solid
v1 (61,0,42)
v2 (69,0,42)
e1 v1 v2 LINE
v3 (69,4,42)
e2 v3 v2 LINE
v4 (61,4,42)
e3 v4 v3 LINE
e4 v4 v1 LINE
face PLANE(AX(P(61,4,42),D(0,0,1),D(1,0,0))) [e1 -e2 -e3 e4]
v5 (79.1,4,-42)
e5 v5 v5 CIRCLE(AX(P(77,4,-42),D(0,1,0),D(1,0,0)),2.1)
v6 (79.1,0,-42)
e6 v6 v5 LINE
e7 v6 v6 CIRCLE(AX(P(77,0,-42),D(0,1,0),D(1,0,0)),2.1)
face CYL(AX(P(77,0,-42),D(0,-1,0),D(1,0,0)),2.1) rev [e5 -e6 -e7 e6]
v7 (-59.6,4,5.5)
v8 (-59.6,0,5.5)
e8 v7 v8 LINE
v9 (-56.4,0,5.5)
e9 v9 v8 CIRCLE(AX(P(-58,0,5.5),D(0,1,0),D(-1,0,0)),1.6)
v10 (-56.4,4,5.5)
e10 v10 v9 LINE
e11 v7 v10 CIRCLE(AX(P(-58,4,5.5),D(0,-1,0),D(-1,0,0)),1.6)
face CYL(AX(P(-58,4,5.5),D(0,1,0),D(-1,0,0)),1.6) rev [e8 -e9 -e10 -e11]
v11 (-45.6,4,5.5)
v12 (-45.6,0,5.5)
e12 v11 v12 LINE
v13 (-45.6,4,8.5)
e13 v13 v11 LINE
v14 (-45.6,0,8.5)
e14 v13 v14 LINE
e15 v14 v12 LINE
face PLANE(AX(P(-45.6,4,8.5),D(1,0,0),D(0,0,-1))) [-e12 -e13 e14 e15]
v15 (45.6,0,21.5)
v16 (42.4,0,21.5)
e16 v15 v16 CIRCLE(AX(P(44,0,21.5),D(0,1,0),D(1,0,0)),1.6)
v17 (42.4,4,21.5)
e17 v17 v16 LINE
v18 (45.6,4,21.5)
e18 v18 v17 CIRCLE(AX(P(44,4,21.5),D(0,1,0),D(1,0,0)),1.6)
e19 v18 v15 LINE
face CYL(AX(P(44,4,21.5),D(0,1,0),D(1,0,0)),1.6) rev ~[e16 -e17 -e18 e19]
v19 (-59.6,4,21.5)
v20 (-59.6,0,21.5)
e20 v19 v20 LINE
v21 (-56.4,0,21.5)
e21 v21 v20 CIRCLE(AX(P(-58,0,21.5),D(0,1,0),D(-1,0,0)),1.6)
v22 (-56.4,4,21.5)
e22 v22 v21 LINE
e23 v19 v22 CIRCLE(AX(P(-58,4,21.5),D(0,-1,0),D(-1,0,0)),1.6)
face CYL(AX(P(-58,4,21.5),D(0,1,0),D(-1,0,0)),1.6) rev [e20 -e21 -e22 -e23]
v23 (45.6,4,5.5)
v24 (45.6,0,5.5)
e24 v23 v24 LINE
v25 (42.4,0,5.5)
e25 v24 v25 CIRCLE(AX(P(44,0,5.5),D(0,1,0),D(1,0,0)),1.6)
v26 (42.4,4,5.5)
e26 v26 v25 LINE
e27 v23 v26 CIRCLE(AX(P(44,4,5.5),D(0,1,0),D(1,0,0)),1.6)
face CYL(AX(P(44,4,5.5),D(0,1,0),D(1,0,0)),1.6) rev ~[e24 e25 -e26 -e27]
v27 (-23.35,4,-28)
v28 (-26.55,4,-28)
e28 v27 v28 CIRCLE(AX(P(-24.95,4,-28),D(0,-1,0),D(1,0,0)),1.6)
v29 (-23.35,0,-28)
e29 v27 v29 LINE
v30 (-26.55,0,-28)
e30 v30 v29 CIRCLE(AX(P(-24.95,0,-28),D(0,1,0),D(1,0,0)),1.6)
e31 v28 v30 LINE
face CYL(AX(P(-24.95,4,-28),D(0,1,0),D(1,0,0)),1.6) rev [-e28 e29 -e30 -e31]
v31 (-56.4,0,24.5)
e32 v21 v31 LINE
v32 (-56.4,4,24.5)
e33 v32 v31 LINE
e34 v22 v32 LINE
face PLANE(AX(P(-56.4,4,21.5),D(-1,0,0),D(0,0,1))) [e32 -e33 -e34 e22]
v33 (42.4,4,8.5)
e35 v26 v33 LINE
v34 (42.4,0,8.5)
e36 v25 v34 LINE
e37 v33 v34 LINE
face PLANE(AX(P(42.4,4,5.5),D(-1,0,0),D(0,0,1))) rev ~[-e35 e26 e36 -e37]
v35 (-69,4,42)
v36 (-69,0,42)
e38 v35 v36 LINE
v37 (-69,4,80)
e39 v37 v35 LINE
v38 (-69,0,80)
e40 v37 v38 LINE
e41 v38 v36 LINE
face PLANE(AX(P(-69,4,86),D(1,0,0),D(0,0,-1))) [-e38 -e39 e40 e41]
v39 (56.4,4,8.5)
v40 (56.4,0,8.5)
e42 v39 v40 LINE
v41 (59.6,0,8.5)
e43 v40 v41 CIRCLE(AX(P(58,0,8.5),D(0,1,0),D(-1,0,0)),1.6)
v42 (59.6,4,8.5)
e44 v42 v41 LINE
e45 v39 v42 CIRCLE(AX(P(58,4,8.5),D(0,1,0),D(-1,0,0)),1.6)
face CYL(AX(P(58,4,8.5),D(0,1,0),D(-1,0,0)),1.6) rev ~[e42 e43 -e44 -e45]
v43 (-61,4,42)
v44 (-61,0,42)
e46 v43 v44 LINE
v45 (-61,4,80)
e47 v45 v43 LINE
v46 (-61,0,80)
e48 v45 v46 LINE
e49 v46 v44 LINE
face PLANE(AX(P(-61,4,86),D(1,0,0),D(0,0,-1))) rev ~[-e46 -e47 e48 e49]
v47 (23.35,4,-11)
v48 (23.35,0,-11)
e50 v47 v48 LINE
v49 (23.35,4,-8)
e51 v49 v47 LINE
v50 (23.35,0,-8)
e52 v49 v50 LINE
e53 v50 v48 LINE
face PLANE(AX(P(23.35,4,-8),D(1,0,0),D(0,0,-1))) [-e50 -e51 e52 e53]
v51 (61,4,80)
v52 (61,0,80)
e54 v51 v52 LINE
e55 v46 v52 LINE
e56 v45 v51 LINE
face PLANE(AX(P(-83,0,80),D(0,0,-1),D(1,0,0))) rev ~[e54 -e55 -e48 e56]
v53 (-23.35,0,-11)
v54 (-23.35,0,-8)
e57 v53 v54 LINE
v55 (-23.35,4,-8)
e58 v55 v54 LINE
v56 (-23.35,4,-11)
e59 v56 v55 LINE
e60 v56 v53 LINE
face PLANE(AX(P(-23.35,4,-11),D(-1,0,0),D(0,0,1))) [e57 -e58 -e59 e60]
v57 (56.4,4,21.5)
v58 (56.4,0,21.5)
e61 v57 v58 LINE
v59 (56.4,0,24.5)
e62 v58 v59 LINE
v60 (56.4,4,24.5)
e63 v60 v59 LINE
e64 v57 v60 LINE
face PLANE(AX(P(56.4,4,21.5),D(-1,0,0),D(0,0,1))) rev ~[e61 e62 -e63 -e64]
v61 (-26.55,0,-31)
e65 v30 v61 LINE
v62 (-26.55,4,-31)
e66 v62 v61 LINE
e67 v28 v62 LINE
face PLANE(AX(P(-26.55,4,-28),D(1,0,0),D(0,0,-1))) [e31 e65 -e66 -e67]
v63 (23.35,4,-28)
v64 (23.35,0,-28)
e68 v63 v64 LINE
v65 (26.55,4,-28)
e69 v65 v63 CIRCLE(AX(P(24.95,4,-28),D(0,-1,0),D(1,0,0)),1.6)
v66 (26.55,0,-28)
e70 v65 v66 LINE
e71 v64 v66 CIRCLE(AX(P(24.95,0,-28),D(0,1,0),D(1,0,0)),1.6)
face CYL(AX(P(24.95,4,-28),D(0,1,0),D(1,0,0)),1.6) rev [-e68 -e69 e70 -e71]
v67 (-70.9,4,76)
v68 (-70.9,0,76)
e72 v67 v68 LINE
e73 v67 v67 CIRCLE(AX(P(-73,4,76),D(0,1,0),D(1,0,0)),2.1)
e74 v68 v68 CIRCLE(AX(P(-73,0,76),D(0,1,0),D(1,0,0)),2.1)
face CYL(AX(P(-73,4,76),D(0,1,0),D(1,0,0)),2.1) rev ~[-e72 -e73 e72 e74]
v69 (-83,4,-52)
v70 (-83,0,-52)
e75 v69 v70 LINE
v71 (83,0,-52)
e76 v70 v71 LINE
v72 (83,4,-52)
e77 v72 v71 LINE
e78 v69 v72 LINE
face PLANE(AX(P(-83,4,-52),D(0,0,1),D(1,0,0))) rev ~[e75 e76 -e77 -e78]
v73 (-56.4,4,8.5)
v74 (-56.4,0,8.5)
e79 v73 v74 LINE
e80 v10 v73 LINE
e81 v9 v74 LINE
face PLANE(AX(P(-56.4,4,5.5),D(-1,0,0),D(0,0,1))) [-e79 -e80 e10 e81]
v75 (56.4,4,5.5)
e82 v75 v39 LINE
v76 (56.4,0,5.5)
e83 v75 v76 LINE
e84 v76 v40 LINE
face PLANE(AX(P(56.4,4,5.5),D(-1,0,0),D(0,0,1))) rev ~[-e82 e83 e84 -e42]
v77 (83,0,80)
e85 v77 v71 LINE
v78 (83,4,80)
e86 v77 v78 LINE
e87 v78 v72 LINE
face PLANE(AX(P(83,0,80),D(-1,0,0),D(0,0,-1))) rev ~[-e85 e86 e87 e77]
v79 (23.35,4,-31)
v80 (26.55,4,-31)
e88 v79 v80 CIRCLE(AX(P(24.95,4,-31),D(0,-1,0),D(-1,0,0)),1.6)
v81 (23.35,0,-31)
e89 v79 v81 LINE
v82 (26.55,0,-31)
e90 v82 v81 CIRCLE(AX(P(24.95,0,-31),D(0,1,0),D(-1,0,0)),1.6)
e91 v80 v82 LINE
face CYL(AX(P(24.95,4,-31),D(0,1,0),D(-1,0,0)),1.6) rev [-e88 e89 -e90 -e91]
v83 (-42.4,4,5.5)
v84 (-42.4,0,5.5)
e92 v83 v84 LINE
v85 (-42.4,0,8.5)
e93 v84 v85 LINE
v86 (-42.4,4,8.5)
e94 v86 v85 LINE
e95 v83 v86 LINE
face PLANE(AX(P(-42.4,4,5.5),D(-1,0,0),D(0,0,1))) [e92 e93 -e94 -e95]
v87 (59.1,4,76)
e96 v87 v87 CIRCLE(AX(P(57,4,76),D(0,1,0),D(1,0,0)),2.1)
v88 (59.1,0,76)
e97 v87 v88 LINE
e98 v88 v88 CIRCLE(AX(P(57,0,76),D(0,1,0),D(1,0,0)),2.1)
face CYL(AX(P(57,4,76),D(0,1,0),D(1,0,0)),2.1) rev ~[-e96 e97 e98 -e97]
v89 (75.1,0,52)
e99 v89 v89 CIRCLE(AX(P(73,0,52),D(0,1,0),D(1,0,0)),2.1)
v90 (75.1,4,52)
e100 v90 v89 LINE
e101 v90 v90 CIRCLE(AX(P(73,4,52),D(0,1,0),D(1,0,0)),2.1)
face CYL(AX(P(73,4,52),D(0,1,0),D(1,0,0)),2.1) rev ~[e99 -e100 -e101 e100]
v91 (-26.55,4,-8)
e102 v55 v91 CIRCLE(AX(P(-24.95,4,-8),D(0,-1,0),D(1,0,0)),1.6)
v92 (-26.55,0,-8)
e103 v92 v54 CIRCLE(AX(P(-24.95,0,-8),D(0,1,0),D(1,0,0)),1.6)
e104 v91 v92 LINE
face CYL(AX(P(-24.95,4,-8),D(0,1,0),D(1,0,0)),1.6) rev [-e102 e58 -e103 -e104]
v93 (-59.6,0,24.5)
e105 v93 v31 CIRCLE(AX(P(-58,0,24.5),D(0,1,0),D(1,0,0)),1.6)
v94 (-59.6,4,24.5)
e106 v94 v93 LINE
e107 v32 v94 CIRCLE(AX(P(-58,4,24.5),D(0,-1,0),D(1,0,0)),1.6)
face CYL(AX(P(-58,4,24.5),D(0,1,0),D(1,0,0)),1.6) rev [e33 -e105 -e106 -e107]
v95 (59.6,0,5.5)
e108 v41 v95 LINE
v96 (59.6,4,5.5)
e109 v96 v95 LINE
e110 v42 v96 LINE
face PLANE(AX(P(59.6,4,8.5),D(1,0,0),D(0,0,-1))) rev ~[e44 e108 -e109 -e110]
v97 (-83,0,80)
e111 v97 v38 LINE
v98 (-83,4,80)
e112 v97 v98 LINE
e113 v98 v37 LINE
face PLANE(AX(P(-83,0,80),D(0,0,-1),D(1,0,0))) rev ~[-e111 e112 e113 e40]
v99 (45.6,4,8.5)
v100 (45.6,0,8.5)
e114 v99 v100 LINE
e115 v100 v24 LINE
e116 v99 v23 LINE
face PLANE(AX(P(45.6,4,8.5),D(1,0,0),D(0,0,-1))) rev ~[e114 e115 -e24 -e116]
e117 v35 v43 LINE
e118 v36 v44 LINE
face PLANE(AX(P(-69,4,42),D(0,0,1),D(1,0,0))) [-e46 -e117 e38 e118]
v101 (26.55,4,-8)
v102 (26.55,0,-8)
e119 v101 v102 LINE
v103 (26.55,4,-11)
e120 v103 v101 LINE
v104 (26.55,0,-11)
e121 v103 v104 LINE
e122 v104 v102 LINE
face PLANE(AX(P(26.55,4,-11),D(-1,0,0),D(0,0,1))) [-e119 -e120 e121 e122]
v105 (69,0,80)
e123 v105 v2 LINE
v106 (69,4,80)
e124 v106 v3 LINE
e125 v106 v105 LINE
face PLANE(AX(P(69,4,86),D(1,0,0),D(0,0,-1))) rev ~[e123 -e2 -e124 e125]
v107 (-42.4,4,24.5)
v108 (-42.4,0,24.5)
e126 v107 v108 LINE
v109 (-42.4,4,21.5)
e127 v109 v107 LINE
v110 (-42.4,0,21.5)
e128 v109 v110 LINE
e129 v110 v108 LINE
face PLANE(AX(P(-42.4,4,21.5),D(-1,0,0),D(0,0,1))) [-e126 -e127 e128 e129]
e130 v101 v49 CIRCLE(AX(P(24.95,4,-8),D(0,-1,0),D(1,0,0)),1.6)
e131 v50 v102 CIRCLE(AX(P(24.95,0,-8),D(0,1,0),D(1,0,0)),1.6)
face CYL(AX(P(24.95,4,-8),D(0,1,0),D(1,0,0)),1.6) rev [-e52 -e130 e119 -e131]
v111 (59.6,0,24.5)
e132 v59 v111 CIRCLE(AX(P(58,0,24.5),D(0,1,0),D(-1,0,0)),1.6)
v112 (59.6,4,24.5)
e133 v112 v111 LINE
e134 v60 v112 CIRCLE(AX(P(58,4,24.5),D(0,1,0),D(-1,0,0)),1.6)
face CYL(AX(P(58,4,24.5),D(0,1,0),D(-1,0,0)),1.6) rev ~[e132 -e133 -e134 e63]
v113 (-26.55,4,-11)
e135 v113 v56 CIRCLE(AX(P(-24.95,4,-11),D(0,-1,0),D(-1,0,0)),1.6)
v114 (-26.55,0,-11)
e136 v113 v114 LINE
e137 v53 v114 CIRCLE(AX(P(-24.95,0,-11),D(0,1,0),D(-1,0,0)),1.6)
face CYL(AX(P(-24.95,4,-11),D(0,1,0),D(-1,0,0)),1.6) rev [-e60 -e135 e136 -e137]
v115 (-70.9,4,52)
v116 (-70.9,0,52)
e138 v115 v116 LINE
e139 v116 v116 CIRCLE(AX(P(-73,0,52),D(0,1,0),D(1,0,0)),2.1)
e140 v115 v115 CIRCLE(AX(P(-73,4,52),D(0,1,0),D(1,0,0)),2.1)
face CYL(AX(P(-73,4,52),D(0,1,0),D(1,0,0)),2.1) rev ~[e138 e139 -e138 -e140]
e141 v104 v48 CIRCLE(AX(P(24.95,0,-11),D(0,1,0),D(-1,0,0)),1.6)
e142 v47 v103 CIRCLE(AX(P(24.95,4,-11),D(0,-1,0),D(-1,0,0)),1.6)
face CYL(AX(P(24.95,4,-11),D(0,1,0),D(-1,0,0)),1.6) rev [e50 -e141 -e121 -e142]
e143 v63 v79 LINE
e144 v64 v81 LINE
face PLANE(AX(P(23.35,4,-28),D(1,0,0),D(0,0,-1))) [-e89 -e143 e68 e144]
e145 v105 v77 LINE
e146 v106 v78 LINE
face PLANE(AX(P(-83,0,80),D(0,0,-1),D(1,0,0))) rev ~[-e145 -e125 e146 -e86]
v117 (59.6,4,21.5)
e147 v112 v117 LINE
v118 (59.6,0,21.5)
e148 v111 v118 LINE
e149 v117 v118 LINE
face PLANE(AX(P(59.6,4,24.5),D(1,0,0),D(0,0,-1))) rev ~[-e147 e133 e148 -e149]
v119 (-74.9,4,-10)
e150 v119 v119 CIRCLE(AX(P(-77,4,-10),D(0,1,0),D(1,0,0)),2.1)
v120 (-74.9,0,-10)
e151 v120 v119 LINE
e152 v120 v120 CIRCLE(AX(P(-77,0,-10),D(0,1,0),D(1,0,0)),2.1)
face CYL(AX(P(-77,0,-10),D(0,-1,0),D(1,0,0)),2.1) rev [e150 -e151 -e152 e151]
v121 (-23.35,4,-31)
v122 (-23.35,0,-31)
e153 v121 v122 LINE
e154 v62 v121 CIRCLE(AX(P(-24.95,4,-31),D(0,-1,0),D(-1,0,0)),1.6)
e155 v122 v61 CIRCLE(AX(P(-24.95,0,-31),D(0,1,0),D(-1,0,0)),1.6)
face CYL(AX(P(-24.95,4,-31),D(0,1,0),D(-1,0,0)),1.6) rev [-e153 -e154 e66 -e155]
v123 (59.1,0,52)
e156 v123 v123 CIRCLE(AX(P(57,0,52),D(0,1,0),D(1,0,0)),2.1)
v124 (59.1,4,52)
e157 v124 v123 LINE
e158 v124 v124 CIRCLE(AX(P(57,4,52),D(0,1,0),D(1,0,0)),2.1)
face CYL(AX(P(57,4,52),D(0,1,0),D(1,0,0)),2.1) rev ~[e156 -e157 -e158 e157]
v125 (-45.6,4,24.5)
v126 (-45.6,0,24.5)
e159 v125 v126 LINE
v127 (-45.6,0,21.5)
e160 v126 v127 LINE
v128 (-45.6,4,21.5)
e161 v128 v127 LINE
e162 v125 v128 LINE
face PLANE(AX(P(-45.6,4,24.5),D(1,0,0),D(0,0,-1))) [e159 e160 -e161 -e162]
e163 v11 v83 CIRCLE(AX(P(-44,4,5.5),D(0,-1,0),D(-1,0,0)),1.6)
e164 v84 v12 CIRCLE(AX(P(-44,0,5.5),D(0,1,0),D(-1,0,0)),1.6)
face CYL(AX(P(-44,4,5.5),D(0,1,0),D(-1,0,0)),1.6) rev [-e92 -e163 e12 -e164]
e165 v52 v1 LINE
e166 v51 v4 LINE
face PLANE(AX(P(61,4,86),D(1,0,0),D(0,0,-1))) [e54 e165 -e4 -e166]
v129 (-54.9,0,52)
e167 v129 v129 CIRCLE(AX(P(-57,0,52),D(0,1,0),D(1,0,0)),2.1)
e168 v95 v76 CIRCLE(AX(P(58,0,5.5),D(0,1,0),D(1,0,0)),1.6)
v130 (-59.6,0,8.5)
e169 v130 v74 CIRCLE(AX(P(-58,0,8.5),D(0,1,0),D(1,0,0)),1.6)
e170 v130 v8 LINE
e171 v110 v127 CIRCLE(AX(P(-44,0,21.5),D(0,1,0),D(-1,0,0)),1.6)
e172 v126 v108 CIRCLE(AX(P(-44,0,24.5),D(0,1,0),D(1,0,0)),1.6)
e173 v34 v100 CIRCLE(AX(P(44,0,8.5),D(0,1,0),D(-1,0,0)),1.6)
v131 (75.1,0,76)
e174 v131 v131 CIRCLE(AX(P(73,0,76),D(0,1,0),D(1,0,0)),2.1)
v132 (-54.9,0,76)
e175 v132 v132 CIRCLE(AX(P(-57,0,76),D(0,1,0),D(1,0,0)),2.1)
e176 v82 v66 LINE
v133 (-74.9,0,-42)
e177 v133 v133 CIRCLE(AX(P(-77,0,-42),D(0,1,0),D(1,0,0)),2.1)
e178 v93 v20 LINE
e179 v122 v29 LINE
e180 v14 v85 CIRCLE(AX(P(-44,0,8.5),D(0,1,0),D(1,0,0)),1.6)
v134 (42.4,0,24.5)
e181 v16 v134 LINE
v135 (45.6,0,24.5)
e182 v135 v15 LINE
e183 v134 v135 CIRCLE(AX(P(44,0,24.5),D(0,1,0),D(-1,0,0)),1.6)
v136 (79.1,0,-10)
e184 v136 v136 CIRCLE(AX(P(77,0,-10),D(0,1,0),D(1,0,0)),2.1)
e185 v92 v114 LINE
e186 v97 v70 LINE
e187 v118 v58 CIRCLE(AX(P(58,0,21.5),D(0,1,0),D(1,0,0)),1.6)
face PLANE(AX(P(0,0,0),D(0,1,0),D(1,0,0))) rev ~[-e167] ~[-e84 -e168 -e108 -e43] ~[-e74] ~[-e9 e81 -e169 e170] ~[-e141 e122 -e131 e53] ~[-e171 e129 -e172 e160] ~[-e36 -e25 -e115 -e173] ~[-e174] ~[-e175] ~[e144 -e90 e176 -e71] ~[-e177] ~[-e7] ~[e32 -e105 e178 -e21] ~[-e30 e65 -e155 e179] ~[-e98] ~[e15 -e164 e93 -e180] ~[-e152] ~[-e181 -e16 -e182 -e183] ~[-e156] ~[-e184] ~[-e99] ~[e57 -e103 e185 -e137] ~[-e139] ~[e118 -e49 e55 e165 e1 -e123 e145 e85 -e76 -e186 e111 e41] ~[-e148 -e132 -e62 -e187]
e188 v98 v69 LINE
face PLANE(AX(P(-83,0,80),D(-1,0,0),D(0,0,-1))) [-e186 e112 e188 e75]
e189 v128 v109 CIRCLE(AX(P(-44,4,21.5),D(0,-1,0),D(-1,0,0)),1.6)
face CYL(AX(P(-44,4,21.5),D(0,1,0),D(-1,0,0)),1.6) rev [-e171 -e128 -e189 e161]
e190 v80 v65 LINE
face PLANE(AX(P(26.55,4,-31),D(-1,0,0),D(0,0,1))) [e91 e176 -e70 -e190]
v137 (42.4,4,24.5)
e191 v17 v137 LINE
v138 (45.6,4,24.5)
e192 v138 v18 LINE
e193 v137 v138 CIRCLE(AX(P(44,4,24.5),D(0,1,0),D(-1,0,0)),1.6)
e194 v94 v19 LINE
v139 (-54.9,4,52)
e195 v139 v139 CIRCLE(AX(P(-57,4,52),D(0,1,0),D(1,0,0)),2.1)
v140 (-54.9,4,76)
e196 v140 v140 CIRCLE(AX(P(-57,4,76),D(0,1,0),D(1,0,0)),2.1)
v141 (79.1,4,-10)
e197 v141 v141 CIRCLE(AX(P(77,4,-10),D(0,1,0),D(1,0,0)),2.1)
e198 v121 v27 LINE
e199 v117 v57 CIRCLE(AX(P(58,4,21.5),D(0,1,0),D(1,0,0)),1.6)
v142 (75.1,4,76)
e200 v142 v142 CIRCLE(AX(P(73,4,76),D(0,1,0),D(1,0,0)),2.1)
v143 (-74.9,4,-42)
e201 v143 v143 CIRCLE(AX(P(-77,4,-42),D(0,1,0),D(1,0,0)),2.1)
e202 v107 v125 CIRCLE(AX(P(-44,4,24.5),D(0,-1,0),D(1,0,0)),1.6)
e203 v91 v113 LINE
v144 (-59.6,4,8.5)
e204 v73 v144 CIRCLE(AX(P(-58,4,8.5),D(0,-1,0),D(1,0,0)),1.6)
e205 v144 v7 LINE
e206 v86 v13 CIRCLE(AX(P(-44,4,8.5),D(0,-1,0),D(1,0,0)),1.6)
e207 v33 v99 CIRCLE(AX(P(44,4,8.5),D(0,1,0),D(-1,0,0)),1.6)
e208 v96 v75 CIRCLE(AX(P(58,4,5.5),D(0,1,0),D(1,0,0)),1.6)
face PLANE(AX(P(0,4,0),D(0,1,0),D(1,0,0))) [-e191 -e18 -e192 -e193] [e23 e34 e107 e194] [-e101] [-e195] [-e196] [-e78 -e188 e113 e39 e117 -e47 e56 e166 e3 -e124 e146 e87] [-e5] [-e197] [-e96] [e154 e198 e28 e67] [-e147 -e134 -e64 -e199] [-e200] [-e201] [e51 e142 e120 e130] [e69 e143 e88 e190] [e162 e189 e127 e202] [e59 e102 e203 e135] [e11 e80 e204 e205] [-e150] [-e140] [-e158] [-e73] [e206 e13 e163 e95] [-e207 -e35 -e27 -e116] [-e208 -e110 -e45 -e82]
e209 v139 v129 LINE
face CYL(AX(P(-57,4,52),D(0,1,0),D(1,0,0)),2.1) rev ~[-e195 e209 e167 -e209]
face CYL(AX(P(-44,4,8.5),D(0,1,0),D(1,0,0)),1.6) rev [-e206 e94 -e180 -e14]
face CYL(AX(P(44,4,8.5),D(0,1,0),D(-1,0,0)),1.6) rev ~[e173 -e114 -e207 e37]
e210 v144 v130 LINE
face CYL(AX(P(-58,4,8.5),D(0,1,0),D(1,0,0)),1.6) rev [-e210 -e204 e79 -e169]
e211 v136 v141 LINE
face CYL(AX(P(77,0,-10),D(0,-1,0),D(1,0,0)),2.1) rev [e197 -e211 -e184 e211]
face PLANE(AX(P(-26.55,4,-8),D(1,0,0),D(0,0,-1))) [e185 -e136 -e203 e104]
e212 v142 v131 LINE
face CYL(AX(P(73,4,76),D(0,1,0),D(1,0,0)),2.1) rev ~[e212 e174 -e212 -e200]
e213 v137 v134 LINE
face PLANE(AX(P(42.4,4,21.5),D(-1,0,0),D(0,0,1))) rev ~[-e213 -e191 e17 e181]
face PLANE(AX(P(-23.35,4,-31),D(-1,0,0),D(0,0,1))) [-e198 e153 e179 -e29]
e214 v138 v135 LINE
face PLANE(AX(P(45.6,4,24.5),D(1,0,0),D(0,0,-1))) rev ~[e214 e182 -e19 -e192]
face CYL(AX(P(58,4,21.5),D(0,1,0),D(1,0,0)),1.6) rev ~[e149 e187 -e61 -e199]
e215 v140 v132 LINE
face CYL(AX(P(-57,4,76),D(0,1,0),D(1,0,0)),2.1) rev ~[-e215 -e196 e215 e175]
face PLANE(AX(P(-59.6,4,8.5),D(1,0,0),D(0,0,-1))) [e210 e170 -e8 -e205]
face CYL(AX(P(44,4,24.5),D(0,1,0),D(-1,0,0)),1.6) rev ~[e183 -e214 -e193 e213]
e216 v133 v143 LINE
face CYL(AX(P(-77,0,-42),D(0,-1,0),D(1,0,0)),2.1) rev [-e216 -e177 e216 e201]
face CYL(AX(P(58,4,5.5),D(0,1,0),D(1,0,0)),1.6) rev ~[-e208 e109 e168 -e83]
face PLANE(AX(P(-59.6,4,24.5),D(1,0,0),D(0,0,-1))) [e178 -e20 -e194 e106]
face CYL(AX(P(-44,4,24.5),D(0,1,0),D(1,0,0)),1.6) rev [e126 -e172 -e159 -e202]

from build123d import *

# Parameters (mm, degrees)
SKETCH1_W           = 166
SKETCH1_H           = 160
SKETCH1_R           = 2.1
BOSS_EXTRUDE1_DEPTH = 4
CUT_EXTRUDE1_DEPTH  = 5
SKETCH3_R           = 2.1
SKETCH3_W           = 8
SKETCH3_H           = 44
CUT_EXTRUDE2_DEPTH  = 10
SKETCH4_W           = 166
SKETCH4_H           = 28
CUT_EXTRUDE3_DEPTH  = 10
CUT_EXTRUDE4_DEPTH  = 5


with BuildPart() as part:
    # Sketch1 → Boss-Extrude1 (new body)
    with BuildSketch(Plane(origin=(0, 0, 0), x_dir=(1, 0, 0), z_dir=(0, 1, 0))):
        Rectangle(SKETCH1_W, SKETCH1_H)
        with Locations((-77, 74)):
            Circle(SKETCH1_R, mode=Mode.SUBTRACT)
        with Locations((-77, 10)):
            Circle(SKETCH1_R, mode=Mode.SUBTRACT)
        with Locations((77, 74)):
            Circle(SKETCH1_R, mode=Mode.SUBTRACT)
        with Locations((77, 10)):
            Circle(SKETCH1_R, mode=Mode.SUBTRACT)
        with Locations((-77, 42)):
            Circle(SKETCH1_R, mode=Mode.SUBTRACT)
        with Locations((77, 42)):
            Circle(SKETCH1_R, mode=Mode.SUBTRACT)
    extrude(amount=BOSS_EXTRUDE1_DEPTH)

    # Sketch2 → Cut-Extrude1 (cut)
    with BuildSketch(Plane(origin=(0, 4, 0), x_dir=(1, 0, 0), z_dir=(0, 1, 0))):
        with BuildLine():
            Line((-59.6, -24.5), (-59.6, -21.5))
            ThreePointArc((-59.6, -21.5), (-58, -19.9), (-56.4, -21.5))
            Line((-56.4, -21.5), (-56.4, -24.5))
            ThreePointArc((-56.4, -24.5), (-58, -26.1), (-59.6, -24.5))
        make_face()
        with BuildLine():
            Line((-45.6, -24.5), (-45.6, -21.5))
            ThreePointArc((-45.6, -21.5), (-44, -19.9), (-42.4, -21.5))
            Line((-42.4, -21.5), (-42.4, -24.5))
            ThreePointArc((-42.4, -24.5), (-44, -26.1), (-45.6, -24.5))
        make_face()
        with BuildLine():
            Line((-45.6, -8.5), (-45.6, -5.5))
            ThreePointArc((-45.6, -5.5), (-44, -3.9), (-42.4, -5.5))
            Line((-42.4, -5.5), (-42.4, -8.5))
            ThreePointArc((-42.4, -8.5), (-44, -10.1), (-45.6, -8.5))
        make_face()
        with BuildLine():
            Line((-59.6, -8.5), (-59.6, -5.5))
            ThreePointArc((-59.6, -5.5), (-58, -3.9), (-56.4, -5.5))
            Line((-56.4, -5.5), (-56.4, -8.5))
            ThreePointArc((-56.4, -8.5), (-58, -10.1), (-59.6, -8.5))
        make_face()
        with BuildLine():
            Line((59.6, -8.5), (59.6, -5.5))
            ThreePointArc((59.6, -5.5), (58, -3.9), (56.4, -5.5))
            Line((56.4, -5.5), (56.4, -8.5))
            ThreePointArc((56.4, -8.5), (58, -10.1), (59.6, -8.5))
        make_face()
        with BuildLine():
            Line((45.6, -8.5), (45.6, -5.5))
            ThreePointArc((45.6, -5.5), (44, -3.9), (42.4, -5.5))
            Line((42.4, -5.5), (42.4, -8.5))
            ThreePointArc((42.4, -8.5), (44, -10.1), (45.6, -8.5))
        make_face()
        with BuildLine():
            Line((45.6, -24.5), (45.6, -21.5))
            ThreePointArc((45.6, -21.5), (44, -19.9), (42.4, -21.5))
            Line((42.4, -21.5), (42.4, -24.5))
            ThreePointArc((42.4, -24.5), (44, -26.1), (45.6, -24.5))
        make_face()
        with BuildLine():
            Line((59.6, -24.5), (59.6, -21.5))
            ThreePointArc((59.6, -21.5), (58, -19.9), (56.4, -21.5))
            Line((56.4, -21.5), (56.4, -24.5))
            ThreePointArc((56.4, -24.5), (58, -26.1), (59.6, -24.5))
        make_face()
    extrude(amount=-CUT_EXTRUDE1_DEPTH, mode=Mode.SUBTRACT)

    # Sketch3 → Cut-Extrude2 (cut)
    with BuildSketch(Plane(origin=(0, 4, 0), x_dir=(1, 0, 0), z_dir=(0, 1, 0))):
        with Locations((-73, -76)):
            Circle(SKETCH3_R)
        with Locations((-57, -76)):
            Circle(SKETCH3_R)
        with Locations((-57, -52)):
            Circle(SKETCH3_R)
        with Locations((-73, -52)):
            Circle(SKETCH3_R)
        with Locations((73, -52)):
            Circle(SKETCH3_R)
        with Locations((57, -52)):
            Circle(SKETCH3_R)
        with Locations((57, -76)):
            Circle(SKETCH3_R)
        with Locations((73, -76)):
            Circle(SKETCH3_R)
        with Locations((-65, -64)):
            Rectangle(SKETCH3_W, SKETCH3_H)
        with Locations((65, -64)):
            Rectangle(SKETCH3_W, SKETCH3_H)
    extrude(amount=-CUT_EXTRUDE2_DEPTH, mode=Mode.SUBTRACT)

    # Sketch4 → Cut-Extrude3 (cut)
    with BuildSketch(Plane(origin=(0, 4, 0), x_dir=(1, 0, 0), z_dir=(0, 1, 0))):
        with Locations((0, 66)):
            Rectangle(SKETCH4_W, SKETCH4_H)
    extrude(amount=-CUT_EXTRUDE3_DEPTH, mode=Mode.SUBTRACT)

    # Sketch5 → Cut-Extrude4 (cut, through all)
    with BuildSketch(Plane(origin=(0, 4, 0), x_dir=(1, 0, 0), z_dir=(0, 1, 0))):
        with BuildLine():
            Line((-26.55, 28), (-26.55, 31))
            ThreePointArc((-26.55, 31), (-24.95, 32.6), (-23.35, 31))
            Line((-23.35, 31), (-23.35, 28))
            ThreePointArc((-23.35, 28), (-24.95, 26.4), (-26.55, 28))
        make_face()
        with BuildLine():
            Line((23.35, 28), (23.35, 31))
            ThreePointArc((23.35, 31), (24.95, 32.6), (26.55, 31))
            Line((26.55, 31), (26.55, 28))
            ThreePointArc((26.55, 28), (24.95, 26.4), (23.35, 28))
        make_face()
        with BuildLine():
            Line((23.35, 8), (23.35, 11))
            ThreePointArc((23.35, 11), (24.95, 12.6), (26.55, 11))
            Line((26.55, 11), (26.55, 8))
            ThreePointArc((26.55, 8), (24.95, 6.4), (23.35, 8))
        make_face()
        with BuildLine():
            Line((-26.55, 8), (-26.55, 11))
            ThreePointArc((-26.55, 11), (-24.95, 12.6), (-23.35, 11))
            Line((-23.35, 11), (-23.35, 8))
            ThreePointArc((-23.35, 8), (-24.95, 6.4), (-26.55, 8))
        make_face()
    extrude(amount=-CUT_EXTRUDE4_DEPTH, mode=Mode.SUBTRACT)


solid = part.part
